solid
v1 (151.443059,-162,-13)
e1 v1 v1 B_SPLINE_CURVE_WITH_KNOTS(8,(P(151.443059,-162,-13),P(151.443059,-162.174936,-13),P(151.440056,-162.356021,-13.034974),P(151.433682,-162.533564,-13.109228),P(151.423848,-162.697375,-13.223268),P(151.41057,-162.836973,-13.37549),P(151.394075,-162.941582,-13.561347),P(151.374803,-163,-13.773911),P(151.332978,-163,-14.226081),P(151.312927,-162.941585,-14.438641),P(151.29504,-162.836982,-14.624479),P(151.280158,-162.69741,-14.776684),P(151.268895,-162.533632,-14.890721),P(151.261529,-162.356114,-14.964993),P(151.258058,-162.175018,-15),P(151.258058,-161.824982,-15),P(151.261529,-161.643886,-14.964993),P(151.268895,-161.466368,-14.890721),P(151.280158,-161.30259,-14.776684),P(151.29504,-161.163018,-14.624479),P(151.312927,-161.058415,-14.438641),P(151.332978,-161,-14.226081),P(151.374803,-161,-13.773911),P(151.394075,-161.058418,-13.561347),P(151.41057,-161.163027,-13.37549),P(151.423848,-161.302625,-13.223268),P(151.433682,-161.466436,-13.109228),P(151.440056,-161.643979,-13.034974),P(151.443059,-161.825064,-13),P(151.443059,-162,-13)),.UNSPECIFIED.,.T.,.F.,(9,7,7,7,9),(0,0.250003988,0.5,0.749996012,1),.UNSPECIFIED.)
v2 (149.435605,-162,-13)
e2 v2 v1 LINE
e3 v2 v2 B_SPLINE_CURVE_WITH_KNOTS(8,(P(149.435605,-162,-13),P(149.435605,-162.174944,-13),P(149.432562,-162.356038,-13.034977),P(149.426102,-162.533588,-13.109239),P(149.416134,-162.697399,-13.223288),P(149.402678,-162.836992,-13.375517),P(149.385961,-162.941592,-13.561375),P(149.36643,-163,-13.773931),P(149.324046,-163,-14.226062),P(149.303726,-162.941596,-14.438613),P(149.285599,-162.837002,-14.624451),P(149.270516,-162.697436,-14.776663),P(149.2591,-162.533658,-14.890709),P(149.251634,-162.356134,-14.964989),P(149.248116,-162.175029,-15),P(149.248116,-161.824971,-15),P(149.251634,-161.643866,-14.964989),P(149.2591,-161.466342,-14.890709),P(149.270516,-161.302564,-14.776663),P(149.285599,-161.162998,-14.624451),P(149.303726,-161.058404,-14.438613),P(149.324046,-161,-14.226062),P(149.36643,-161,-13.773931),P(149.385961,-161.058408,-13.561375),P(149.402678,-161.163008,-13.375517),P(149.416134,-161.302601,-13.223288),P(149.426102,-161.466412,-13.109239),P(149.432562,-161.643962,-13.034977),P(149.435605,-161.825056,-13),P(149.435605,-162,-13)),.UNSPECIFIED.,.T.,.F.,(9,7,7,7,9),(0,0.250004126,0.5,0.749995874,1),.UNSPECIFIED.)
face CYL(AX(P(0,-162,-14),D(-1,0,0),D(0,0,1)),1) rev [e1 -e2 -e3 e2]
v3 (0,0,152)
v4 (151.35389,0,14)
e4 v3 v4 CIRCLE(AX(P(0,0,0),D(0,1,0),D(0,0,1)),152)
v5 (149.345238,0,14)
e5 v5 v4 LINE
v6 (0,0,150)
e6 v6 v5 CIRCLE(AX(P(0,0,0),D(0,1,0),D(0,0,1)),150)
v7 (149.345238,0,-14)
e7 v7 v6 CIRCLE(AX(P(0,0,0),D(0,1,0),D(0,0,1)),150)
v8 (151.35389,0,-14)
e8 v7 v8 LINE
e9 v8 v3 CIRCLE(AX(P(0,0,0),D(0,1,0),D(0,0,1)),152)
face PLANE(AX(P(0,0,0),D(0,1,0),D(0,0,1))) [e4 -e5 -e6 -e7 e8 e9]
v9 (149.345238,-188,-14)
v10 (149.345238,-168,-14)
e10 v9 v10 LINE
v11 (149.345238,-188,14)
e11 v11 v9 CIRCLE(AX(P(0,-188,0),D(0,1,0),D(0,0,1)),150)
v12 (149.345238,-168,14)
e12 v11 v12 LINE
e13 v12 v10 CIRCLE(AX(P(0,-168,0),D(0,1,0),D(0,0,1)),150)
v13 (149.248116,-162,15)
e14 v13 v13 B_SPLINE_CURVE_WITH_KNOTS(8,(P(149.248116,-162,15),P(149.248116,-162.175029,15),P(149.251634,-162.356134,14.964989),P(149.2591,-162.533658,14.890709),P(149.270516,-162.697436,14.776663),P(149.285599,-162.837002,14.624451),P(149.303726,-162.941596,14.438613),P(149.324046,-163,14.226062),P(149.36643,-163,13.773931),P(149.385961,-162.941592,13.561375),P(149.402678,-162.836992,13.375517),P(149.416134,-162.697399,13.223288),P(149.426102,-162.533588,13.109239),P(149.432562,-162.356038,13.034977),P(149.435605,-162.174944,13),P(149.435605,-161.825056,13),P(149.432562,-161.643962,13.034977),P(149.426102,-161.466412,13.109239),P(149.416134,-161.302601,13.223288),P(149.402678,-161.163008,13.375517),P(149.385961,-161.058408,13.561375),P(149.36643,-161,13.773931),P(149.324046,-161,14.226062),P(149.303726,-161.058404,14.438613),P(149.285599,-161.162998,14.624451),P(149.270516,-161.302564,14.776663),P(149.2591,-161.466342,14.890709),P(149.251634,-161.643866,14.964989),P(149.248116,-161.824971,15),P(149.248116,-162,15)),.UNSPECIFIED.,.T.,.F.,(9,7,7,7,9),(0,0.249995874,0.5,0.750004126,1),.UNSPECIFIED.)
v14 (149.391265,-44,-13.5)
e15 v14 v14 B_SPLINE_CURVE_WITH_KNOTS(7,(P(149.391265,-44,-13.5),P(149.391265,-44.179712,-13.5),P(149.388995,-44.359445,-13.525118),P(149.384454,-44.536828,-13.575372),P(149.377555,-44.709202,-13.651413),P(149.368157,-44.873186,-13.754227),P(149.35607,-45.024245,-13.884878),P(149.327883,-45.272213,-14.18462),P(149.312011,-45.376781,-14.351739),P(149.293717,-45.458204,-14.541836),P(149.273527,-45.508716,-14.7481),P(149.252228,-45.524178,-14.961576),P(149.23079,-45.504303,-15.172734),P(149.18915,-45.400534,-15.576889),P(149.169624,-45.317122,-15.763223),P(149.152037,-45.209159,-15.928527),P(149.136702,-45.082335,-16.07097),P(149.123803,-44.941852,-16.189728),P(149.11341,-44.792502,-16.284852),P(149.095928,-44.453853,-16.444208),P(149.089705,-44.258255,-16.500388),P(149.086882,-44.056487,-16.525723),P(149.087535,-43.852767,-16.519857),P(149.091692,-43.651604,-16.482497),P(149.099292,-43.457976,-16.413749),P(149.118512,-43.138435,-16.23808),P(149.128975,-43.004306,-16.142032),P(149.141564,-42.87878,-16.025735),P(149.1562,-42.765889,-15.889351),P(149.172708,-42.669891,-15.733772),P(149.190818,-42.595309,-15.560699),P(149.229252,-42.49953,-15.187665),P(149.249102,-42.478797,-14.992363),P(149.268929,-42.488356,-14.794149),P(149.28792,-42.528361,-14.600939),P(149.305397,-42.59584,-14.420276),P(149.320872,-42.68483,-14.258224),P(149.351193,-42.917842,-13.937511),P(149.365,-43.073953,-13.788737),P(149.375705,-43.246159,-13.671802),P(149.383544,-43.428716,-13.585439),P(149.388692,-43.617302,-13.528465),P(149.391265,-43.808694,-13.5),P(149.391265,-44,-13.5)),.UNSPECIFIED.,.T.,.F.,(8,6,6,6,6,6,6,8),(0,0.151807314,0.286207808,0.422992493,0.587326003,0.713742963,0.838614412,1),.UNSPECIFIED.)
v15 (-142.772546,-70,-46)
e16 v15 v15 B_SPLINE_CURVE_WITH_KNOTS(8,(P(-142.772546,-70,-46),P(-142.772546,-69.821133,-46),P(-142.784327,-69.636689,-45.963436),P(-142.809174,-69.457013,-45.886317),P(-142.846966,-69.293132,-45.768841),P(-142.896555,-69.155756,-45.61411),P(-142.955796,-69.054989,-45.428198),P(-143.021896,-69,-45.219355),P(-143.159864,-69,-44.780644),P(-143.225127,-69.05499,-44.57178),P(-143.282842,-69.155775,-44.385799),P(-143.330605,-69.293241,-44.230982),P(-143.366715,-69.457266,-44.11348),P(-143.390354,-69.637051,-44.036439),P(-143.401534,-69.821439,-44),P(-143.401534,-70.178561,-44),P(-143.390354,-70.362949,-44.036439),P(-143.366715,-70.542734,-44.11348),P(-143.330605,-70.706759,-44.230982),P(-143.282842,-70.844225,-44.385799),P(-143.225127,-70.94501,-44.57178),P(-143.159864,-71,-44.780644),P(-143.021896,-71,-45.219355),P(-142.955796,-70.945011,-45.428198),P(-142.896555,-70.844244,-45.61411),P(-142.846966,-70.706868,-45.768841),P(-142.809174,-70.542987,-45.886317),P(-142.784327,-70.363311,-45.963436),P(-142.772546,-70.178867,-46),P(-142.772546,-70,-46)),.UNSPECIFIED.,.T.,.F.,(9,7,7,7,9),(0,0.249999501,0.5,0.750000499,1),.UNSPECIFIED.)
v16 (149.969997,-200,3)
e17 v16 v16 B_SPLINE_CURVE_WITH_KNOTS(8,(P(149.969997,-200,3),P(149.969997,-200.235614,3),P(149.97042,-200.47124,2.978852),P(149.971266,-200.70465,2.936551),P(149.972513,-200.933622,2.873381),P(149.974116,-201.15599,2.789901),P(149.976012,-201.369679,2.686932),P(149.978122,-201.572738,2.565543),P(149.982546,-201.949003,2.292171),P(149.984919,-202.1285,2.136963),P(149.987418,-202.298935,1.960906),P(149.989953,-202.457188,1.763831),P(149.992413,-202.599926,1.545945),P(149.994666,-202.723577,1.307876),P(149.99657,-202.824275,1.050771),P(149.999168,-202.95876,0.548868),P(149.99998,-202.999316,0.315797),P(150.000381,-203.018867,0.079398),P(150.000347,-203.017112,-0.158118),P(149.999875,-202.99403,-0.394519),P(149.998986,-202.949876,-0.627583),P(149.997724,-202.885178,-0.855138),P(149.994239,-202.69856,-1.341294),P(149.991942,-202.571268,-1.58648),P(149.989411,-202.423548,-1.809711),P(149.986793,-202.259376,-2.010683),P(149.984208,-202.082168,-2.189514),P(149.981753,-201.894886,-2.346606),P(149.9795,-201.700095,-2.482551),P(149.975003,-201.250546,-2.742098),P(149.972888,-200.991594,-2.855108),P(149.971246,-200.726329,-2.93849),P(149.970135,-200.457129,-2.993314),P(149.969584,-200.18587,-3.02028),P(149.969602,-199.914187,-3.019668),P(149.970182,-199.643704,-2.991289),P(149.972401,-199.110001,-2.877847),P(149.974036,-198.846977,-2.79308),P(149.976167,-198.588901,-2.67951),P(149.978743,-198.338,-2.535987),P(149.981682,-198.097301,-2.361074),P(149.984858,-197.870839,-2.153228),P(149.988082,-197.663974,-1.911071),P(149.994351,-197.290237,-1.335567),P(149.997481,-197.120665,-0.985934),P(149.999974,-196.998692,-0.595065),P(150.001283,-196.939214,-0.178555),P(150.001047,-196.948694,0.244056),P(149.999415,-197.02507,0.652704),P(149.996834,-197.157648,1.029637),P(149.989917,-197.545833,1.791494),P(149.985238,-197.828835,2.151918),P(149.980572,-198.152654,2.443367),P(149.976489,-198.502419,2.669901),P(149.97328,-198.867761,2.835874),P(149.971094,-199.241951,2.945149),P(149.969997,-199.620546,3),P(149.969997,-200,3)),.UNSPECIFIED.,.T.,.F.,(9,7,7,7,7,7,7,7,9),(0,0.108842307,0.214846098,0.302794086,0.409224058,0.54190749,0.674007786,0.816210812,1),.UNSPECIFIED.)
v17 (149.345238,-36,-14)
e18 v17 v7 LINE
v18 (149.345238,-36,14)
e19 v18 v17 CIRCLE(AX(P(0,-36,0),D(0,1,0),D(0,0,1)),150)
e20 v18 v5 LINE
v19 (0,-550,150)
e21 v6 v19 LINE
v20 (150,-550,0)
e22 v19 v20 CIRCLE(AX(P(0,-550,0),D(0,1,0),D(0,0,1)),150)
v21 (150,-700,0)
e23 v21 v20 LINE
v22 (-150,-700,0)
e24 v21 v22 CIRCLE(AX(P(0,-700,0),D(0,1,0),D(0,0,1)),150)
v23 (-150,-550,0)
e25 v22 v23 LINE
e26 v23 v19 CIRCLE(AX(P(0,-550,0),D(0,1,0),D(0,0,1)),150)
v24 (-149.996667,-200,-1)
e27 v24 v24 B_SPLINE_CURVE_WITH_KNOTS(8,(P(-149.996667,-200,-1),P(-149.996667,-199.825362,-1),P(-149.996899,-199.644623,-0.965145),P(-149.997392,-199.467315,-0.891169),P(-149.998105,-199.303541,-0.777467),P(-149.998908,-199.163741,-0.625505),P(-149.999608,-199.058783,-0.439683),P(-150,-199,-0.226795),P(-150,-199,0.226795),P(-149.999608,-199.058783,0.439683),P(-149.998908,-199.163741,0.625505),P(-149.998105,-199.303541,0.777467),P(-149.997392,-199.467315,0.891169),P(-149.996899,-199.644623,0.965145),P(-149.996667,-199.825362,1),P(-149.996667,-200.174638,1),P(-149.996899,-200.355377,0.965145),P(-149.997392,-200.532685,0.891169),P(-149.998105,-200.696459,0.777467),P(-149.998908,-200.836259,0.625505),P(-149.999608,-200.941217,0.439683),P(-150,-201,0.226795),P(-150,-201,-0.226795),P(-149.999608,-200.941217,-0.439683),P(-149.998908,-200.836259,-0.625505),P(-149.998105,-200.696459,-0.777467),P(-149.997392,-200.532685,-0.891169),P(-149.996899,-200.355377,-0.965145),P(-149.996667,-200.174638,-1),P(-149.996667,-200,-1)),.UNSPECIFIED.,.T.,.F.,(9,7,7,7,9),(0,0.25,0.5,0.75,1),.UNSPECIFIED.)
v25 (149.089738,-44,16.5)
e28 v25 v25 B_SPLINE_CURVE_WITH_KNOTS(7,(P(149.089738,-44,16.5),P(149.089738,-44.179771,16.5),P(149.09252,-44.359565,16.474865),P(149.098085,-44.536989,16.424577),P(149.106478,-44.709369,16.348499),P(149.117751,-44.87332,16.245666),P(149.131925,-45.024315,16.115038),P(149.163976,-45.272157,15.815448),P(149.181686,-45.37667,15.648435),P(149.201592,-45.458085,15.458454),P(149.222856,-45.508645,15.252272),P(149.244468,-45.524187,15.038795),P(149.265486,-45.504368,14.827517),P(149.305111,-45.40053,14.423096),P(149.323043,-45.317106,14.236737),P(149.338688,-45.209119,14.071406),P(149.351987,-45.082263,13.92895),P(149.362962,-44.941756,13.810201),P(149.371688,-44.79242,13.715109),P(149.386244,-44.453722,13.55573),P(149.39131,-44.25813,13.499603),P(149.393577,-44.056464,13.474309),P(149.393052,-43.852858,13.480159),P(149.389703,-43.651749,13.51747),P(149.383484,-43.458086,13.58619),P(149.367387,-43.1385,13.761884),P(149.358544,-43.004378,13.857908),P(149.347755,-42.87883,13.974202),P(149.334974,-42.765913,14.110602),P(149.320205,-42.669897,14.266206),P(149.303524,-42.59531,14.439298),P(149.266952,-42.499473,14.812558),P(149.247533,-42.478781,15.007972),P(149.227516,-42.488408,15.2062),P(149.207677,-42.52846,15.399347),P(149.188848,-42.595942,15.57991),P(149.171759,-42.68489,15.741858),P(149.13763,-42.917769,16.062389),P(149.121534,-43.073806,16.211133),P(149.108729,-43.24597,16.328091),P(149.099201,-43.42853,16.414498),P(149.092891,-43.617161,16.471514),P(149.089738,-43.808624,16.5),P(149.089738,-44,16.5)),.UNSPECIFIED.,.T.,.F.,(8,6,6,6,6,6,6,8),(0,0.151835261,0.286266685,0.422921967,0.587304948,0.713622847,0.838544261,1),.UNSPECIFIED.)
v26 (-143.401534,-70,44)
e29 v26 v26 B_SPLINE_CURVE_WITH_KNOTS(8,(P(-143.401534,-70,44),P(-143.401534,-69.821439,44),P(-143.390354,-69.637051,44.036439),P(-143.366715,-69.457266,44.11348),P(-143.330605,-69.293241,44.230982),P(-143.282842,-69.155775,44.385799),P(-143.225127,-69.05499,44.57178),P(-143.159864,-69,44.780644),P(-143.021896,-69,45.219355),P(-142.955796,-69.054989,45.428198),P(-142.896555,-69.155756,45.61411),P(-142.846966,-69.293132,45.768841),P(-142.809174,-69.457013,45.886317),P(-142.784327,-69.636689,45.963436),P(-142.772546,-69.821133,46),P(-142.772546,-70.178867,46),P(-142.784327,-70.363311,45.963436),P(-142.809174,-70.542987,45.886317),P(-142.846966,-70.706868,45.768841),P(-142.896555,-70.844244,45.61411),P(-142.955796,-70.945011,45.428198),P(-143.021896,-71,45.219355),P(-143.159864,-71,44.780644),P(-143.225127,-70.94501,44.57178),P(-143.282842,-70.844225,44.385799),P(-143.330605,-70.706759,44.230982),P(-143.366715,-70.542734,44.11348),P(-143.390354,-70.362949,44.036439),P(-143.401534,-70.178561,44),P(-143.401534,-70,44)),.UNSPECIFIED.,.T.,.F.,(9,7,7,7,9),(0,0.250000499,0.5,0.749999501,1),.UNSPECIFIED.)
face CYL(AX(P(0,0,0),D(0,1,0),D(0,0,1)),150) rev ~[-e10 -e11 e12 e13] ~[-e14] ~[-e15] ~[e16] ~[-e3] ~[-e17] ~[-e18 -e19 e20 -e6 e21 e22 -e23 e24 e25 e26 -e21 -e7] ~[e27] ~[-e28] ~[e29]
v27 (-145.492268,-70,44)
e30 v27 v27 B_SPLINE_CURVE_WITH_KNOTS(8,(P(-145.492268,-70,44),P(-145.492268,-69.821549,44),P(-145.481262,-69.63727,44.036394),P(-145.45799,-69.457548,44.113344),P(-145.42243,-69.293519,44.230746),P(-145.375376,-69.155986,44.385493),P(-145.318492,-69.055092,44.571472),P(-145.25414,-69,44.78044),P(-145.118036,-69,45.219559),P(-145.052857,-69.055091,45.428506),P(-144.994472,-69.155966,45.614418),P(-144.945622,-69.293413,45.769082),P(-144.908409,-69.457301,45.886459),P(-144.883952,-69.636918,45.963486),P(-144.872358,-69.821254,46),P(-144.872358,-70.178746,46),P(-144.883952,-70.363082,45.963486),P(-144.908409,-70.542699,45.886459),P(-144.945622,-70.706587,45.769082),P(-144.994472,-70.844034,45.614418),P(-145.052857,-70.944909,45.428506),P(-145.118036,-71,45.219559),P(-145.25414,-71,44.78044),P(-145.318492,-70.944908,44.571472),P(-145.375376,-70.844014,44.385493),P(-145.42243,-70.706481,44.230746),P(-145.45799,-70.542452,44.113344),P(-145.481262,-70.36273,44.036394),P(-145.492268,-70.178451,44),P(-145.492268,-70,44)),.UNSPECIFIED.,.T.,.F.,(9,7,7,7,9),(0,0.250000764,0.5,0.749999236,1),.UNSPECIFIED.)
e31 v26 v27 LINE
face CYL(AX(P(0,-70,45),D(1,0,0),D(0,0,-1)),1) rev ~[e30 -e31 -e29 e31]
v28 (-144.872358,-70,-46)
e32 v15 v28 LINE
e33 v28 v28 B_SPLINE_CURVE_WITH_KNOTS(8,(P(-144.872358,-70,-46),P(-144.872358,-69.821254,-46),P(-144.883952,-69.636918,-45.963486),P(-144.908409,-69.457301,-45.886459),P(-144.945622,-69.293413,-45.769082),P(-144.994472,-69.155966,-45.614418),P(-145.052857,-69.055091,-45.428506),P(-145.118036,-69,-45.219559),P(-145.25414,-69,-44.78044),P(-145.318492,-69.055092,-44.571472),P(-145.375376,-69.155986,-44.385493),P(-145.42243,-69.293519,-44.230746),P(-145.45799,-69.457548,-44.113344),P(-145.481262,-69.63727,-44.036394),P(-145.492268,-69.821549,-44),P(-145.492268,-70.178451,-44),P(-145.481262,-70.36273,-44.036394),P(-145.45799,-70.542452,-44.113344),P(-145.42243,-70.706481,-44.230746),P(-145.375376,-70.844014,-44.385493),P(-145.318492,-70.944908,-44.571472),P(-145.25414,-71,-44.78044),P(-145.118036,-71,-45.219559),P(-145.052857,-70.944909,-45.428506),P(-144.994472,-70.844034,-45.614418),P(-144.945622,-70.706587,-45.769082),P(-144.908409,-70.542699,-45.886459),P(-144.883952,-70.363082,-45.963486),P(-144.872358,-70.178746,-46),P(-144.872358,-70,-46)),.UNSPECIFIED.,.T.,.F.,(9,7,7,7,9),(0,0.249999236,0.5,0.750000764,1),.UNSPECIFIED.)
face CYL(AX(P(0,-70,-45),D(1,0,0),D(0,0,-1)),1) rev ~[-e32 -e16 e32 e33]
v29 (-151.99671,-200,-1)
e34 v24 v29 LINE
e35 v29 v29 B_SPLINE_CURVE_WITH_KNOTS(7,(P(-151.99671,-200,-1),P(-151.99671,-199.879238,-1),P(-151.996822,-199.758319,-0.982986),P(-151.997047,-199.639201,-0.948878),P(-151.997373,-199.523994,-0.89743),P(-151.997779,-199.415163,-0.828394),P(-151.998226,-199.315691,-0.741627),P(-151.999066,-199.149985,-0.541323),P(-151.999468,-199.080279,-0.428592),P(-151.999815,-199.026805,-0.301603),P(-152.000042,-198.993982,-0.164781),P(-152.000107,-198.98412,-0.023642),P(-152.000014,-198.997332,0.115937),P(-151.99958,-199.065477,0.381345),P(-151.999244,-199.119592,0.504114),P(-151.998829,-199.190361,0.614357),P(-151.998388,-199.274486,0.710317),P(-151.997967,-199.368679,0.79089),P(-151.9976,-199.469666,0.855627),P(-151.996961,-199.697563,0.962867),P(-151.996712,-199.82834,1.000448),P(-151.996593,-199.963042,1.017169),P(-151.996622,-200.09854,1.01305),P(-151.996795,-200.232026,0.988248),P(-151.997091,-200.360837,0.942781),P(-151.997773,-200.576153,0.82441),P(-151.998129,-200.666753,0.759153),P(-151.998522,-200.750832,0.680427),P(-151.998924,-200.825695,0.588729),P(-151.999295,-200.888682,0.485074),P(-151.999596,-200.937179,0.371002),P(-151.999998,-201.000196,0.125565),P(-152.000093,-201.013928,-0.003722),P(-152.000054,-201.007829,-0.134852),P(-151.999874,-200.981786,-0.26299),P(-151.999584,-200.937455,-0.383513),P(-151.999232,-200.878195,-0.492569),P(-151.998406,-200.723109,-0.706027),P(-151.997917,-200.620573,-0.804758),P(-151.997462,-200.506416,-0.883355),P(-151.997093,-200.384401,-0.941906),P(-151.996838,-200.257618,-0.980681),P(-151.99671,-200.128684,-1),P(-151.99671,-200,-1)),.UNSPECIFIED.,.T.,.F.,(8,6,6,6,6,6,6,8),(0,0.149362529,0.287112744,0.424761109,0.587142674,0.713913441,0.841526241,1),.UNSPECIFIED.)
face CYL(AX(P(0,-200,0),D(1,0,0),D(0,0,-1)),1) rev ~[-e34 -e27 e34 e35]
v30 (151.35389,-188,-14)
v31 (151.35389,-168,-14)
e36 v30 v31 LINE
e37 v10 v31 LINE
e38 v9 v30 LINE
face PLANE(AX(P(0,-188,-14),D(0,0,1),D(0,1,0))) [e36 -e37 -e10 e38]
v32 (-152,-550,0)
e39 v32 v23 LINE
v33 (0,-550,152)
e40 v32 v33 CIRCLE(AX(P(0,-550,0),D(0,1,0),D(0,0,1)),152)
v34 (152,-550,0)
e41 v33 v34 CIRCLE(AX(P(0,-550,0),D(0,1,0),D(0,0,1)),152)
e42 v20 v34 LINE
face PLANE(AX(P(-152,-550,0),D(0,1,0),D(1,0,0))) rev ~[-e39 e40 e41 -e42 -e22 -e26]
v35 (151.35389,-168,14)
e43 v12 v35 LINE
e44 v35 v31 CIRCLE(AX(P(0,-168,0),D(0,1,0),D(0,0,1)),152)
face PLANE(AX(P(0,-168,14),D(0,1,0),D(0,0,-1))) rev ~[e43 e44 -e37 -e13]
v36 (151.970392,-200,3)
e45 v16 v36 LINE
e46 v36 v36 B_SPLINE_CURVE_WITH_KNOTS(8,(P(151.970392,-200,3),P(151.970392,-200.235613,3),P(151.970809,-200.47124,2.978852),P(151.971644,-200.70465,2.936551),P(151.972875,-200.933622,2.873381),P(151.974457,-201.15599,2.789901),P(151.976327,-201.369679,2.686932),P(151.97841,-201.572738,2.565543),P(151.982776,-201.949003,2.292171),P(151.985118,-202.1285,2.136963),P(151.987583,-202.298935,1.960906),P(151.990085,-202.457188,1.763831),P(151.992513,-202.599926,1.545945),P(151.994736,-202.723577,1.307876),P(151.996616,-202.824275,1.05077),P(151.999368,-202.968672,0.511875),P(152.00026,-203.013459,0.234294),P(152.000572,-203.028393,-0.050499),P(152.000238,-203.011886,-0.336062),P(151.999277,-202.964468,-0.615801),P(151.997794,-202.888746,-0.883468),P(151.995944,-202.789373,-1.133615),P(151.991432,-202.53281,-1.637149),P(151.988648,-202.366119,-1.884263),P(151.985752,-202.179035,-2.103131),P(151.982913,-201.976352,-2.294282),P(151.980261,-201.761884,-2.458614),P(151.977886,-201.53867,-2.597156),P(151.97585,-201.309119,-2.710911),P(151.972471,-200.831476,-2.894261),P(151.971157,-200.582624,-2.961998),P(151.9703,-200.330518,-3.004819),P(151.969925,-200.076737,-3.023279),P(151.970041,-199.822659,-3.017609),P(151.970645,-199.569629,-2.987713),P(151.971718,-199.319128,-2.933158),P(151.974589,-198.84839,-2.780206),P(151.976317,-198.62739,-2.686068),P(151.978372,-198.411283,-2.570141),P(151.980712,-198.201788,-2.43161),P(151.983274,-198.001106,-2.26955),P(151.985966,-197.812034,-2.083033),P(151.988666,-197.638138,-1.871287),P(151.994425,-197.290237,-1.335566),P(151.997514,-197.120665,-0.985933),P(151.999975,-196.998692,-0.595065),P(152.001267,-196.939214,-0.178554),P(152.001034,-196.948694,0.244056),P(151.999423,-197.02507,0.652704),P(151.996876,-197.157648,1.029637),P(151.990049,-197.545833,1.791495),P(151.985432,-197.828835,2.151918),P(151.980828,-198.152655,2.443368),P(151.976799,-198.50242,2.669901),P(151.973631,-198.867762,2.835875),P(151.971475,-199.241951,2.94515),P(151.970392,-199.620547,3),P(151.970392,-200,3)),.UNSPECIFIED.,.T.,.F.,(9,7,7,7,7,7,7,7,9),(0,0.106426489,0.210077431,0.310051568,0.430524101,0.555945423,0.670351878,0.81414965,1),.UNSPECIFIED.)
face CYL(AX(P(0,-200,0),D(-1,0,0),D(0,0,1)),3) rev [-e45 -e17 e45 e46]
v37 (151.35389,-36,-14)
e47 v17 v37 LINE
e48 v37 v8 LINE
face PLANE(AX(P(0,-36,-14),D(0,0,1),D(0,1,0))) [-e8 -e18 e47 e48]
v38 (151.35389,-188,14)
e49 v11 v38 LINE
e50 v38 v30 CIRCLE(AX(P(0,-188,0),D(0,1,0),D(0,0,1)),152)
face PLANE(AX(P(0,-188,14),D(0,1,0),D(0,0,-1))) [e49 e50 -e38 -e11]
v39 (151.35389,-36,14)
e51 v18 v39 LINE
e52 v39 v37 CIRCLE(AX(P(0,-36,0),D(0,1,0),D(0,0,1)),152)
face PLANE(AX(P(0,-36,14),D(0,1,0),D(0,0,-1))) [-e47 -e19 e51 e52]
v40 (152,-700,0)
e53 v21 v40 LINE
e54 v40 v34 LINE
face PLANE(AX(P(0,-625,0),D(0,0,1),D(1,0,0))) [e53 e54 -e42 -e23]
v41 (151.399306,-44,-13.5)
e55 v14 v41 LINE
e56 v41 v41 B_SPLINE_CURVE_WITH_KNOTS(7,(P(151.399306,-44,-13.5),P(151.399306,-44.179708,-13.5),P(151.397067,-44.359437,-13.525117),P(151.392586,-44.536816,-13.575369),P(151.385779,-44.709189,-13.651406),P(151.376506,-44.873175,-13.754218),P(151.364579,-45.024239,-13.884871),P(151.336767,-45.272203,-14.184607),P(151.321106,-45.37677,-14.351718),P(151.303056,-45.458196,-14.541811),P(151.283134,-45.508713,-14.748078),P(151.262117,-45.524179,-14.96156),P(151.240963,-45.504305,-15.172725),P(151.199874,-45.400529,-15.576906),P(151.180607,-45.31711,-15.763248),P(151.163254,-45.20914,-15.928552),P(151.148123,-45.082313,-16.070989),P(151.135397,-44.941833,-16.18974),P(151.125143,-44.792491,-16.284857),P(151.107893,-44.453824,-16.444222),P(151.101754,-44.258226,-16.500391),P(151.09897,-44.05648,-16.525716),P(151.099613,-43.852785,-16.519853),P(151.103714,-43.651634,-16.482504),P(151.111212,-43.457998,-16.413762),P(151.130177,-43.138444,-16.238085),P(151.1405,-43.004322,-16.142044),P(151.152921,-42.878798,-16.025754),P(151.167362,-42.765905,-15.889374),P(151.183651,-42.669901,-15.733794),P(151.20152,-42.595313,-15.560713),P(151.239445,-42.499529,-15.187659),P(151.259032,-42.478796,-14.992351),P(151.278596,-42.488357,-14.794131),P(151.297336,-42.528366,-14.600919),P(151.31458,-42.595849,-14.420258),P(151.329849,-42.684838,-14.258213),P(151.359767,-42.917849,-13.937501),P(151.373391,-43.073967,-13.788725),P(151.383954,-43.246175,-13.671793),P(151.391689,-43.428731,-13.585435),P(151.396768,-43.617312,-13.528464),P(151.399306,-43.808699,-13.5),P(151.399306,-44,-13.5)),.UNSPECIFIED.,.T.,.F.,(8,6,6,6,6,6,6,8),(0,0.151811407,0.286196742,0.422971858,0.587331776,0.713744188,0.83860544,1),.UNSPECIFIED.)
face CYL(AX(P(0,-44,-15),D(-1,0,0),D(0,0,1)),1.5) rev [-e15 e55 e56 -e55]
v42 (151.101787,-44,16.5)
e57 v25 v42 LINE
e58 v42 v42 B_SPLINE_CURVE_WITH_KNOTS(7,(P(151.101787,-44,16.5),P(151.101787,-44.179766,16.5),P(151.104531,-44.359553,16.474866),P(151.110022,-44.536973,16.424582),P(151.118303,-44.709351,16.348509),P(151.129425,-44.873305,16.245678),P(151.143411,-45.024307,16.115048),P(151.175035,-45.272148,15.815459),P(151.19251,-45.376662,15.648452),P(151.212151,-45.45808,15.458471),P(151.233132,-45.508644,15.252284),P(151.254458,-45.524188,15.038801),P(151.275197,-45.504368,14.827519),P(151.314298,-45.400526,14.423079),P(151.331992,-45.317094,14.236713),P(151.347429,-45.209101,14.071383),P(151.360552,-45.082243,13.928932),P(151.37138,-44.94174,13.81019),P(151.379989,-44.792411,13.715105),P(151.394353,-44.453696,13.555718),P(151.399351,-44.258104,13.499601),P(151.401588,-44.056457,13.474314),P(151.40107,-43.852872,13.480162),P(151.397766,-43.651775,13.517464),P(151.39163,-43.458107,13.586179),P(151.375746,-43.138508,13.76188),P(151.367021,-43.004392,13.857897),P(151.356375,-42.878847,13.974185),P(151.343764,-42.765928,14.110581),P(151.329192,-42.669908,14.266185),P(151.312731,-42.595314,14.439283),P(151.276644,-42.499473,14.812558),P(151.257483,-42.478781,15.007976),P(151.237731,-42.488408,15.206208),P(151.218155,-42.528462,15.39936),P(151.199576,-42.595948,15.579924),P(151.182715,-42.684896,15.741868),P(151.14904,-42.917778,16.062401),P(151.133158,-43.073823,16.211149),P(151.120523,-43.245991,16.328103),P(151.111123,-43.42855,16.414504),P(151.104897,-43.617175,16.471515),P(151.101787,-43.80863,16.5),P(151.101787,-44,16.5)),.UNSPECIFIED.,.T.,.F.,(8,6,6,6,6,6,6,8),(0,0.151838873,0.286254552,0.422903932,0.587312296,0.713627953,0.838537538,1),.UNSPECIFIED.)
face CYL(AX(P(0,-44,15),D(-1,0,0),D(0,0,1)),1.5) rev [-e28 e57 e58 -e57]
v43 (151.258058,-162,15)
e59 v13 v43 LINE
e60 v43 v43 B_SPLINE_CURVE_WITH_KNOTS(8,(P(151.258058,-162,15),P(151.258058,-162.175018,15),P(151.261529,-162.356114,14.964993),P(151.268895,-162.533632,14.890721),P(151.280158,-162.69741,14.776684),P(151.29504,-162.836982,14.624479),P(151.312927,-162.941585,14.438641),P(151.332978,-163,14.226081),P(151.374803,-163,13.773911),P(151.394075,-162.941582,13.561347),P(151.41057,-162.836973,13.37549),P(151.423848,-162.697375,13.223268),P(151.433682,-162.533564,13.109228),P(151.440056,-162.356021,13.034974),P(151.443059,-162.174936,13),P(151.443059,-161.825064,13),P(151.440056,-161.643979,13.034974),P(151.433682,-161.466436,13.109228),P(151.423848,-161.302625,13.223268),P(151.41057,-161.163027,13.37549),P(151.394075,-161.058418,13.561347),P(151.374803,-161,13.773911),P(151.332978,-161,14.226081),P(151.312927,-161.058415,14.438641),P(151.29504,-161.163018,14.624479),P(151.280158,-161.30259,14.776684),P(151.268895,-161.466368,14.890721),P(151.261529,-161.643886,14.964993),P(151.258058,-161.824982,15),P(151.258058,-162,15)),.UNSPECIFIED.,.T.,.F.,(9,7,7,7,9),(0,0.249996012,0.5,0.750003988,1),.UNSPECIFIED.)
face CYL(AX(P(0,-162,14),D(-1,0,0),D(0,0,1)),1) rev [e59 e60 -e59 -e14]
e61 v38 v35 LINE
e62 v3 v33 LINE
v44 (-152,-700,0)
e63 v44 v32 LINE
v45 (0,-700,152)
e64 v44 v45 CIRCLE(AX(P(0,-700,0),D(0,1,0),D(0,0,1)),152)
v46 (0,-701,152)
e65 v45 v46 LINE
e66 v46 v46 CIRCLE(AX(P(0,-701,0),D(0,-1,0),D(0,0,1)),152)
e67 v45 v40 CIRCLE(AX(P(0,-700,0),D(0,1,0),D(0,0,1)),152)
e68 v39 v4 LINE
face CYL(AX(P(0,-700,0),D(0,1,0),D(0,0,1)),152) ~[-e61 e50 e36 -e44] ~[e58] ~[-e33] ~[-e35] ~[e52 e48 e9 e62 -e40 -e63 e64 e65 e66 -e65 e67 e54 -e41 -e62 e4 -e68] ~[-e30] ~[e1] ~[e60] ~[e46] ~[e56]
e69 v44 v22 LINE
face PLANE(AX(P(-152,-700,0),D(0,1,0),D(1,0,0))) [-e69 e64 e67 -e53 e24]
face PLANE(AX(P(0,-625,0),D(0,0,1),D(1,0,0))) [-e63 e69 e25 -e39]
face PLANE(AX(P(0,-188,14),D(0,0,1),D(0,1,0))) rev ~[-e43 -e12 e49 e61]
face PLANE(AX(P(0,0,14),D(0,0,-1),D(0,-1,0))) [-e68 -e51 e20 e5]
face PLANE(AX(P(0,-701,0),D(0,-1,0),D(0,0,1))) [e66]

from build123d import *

# Parameters (mm, degrees)
ESQUISSE1_R             = 152
ESQUISSE1_R_2           = 150
BOSS_EXTRU_1_DEPTH      = 700
ESQUISSE2_R             = 152
BOSS_EXTRU_2_DEPTH      = 1
ESQUISSE6_W             = 304
ESQUISSE6_H             = 150
ENL_V_MAT_EXTRU_3_DEPTH = 152
ESQUISSE7_R             = 1.5
ENL_V_MAT_EXTRU_4_DEPTH = 240
ESQUISSE8_R             = 3
ESQUISSE8_R_2           = 1
ESQUISSE8_W             = 28
ESQUISSE8_H             = 20
ENL_V_MAT_EXTRU_5_DEPTH = 220
ESQUISSE9_R             = 1
ENL_V_MAT_EXTRU_6_DEPTH = 170
ESQUISSE10_R            = 1
ENL_V_MAT_EXTRU_8_DEPTH = 220


with BuildPart() as part:
    # Esquisse1 → Boss.-Extru.1 (new body)
    with BuildSketch(Plane(origin=(0, 0, 0), x_dir=(1, 0, 0), z_dir=(0, 1, 0))):
        with Locations(Location((0, 0, 0), (0, 0, 270))):
            Circle(ESQUISSE1_R)
        with Locations(Location((0, 0, 0), (0, 0, 270))):
            Circle(ESQUISSE1_R_2, mode=Mode.SUBTRACT)
    extrude(amount=-BOSS_EXTRU_1_DEPTH)

    # Esquisse2 → Boss.-Extru.2 (add)
    with BuildSketch(Plane(origin=(0, -700, 0), x_dir=(-1, 0, 0), z_dir=(0, -1, 0))):
        with Locations(Location((0, 0, 0), (0, 0, 270))):
            Circle(ESQUISSE2_R)
    extrude(amount=BOSS_EXTRU_2_DEPTH)

    # Esquisse6 → Enlèv. mat.-Extru.3 (cut)
    with BuildSketch(Plane.XY):
        with Locations((0, -625)):
            Rectangle(ESQUISSE6_W, ESQUISSE6_H)
    extrude(amount=ENL_V_MAT_EXTRU_3_DEPTH, mode=Mode.SUBTRACT)

    # Esquisse7 → Enlèv. mat.-Extru.4 (cut)
    with BuildSketch(Plane(origin=(0, 0, 0), x_dir=(0, 0, -1), z_dir=(1, 0, 0))):
        with Locations(Location((-15, -44, 0), (0, 0, 180))):
            Circle(ESQUISSE7_R)
        with Locations(Location((15, -44, 0), (0, 0, 180))):
            Circle(ESQUISSE7_R)
        with BuildLine():
            Line((-4, 0), (-14, 0))
            Line((-14, 0), (-14, -36))
            Line((-14, -36), (14, -36))
            Line((14, -36), (14, 0))
            Line((14, 0), (4, 0))
            ThreePointArc((4, 0), (0, -4), (-4, 0))
        make_face()
    extrude(amount=ENL_V_MAT_EXTRU_4_DEPTH, mode=Mode.SUBTRACT)


with BuildPart() as enl_v_mat_extru_4_kept_piece:
    # of the separate pieces the step leaves, the one the design keeps (enl_v_mat_extru_4_pieces_kept)
    add(part.part.solids().sort_by_distance((0, 0, 152))[0])

    # Esquisse8 → Enlèv. mat.-Extru.5 (cut)
    with BuildSketch(Plane(origin=(0, 0, 0), x_dir=(0, 0, -1), z_dir=(1, 0, 0))):
        with Locations(Location((0, -200, 0), (0, 0, 180))):
            Circle(ESQUISSE8_R)
        with Locations(Location((-14, -162, 0), (0, 0, 180))):
            Circle(ESQUISSE8_R_2)
        with Locations(Location((14, -162, 0), (0, 0, 180))):
            Circle(ESQUISSE8_R_2)
        with Locations((0, -178)):
            Rectangle(ESQUISSE8_W, ESQUISSE8_H)
    extrude(amount=ENL_V_MAT_EXTRU_5_DEPTH, mode=Mode.SUBTRACT)

    # Esquisse9 → Enlèv. mat.-Extru.6 (cut)
    with BuildSketch(Plane(origin=(0, 0, 0), x_dir=(0, 0, -1), z_dir=(1, 0, 0))):
        with Locations((0, -200)):
            Circle(ESQUISSE9_R)
    extrude(amount=-ENL_V_MAT_EXTRU_6_DEPTH, mode=Mode.SUBTRACT)

    # Esquisse10 → Enlèv. mat.-Extru.8 (cut)
    with BuildSketch(Plane(origin=(0, 0, 0), x_dir=(0, 0, -1), z_dir=(1, 0, 0))):
        with Locations((-45, -70)):
            Circle(ESQUISSE10_R)
        with Locations((45, -70)):
            Circle(ESQUISSE10_R)
    extrude(amount=-ENL_V_MAT_EXTRU_8_DEPTH, mode=Mode.SUBTRACT)


solid = enl_v_mat_extru_4_kept_piece.part
